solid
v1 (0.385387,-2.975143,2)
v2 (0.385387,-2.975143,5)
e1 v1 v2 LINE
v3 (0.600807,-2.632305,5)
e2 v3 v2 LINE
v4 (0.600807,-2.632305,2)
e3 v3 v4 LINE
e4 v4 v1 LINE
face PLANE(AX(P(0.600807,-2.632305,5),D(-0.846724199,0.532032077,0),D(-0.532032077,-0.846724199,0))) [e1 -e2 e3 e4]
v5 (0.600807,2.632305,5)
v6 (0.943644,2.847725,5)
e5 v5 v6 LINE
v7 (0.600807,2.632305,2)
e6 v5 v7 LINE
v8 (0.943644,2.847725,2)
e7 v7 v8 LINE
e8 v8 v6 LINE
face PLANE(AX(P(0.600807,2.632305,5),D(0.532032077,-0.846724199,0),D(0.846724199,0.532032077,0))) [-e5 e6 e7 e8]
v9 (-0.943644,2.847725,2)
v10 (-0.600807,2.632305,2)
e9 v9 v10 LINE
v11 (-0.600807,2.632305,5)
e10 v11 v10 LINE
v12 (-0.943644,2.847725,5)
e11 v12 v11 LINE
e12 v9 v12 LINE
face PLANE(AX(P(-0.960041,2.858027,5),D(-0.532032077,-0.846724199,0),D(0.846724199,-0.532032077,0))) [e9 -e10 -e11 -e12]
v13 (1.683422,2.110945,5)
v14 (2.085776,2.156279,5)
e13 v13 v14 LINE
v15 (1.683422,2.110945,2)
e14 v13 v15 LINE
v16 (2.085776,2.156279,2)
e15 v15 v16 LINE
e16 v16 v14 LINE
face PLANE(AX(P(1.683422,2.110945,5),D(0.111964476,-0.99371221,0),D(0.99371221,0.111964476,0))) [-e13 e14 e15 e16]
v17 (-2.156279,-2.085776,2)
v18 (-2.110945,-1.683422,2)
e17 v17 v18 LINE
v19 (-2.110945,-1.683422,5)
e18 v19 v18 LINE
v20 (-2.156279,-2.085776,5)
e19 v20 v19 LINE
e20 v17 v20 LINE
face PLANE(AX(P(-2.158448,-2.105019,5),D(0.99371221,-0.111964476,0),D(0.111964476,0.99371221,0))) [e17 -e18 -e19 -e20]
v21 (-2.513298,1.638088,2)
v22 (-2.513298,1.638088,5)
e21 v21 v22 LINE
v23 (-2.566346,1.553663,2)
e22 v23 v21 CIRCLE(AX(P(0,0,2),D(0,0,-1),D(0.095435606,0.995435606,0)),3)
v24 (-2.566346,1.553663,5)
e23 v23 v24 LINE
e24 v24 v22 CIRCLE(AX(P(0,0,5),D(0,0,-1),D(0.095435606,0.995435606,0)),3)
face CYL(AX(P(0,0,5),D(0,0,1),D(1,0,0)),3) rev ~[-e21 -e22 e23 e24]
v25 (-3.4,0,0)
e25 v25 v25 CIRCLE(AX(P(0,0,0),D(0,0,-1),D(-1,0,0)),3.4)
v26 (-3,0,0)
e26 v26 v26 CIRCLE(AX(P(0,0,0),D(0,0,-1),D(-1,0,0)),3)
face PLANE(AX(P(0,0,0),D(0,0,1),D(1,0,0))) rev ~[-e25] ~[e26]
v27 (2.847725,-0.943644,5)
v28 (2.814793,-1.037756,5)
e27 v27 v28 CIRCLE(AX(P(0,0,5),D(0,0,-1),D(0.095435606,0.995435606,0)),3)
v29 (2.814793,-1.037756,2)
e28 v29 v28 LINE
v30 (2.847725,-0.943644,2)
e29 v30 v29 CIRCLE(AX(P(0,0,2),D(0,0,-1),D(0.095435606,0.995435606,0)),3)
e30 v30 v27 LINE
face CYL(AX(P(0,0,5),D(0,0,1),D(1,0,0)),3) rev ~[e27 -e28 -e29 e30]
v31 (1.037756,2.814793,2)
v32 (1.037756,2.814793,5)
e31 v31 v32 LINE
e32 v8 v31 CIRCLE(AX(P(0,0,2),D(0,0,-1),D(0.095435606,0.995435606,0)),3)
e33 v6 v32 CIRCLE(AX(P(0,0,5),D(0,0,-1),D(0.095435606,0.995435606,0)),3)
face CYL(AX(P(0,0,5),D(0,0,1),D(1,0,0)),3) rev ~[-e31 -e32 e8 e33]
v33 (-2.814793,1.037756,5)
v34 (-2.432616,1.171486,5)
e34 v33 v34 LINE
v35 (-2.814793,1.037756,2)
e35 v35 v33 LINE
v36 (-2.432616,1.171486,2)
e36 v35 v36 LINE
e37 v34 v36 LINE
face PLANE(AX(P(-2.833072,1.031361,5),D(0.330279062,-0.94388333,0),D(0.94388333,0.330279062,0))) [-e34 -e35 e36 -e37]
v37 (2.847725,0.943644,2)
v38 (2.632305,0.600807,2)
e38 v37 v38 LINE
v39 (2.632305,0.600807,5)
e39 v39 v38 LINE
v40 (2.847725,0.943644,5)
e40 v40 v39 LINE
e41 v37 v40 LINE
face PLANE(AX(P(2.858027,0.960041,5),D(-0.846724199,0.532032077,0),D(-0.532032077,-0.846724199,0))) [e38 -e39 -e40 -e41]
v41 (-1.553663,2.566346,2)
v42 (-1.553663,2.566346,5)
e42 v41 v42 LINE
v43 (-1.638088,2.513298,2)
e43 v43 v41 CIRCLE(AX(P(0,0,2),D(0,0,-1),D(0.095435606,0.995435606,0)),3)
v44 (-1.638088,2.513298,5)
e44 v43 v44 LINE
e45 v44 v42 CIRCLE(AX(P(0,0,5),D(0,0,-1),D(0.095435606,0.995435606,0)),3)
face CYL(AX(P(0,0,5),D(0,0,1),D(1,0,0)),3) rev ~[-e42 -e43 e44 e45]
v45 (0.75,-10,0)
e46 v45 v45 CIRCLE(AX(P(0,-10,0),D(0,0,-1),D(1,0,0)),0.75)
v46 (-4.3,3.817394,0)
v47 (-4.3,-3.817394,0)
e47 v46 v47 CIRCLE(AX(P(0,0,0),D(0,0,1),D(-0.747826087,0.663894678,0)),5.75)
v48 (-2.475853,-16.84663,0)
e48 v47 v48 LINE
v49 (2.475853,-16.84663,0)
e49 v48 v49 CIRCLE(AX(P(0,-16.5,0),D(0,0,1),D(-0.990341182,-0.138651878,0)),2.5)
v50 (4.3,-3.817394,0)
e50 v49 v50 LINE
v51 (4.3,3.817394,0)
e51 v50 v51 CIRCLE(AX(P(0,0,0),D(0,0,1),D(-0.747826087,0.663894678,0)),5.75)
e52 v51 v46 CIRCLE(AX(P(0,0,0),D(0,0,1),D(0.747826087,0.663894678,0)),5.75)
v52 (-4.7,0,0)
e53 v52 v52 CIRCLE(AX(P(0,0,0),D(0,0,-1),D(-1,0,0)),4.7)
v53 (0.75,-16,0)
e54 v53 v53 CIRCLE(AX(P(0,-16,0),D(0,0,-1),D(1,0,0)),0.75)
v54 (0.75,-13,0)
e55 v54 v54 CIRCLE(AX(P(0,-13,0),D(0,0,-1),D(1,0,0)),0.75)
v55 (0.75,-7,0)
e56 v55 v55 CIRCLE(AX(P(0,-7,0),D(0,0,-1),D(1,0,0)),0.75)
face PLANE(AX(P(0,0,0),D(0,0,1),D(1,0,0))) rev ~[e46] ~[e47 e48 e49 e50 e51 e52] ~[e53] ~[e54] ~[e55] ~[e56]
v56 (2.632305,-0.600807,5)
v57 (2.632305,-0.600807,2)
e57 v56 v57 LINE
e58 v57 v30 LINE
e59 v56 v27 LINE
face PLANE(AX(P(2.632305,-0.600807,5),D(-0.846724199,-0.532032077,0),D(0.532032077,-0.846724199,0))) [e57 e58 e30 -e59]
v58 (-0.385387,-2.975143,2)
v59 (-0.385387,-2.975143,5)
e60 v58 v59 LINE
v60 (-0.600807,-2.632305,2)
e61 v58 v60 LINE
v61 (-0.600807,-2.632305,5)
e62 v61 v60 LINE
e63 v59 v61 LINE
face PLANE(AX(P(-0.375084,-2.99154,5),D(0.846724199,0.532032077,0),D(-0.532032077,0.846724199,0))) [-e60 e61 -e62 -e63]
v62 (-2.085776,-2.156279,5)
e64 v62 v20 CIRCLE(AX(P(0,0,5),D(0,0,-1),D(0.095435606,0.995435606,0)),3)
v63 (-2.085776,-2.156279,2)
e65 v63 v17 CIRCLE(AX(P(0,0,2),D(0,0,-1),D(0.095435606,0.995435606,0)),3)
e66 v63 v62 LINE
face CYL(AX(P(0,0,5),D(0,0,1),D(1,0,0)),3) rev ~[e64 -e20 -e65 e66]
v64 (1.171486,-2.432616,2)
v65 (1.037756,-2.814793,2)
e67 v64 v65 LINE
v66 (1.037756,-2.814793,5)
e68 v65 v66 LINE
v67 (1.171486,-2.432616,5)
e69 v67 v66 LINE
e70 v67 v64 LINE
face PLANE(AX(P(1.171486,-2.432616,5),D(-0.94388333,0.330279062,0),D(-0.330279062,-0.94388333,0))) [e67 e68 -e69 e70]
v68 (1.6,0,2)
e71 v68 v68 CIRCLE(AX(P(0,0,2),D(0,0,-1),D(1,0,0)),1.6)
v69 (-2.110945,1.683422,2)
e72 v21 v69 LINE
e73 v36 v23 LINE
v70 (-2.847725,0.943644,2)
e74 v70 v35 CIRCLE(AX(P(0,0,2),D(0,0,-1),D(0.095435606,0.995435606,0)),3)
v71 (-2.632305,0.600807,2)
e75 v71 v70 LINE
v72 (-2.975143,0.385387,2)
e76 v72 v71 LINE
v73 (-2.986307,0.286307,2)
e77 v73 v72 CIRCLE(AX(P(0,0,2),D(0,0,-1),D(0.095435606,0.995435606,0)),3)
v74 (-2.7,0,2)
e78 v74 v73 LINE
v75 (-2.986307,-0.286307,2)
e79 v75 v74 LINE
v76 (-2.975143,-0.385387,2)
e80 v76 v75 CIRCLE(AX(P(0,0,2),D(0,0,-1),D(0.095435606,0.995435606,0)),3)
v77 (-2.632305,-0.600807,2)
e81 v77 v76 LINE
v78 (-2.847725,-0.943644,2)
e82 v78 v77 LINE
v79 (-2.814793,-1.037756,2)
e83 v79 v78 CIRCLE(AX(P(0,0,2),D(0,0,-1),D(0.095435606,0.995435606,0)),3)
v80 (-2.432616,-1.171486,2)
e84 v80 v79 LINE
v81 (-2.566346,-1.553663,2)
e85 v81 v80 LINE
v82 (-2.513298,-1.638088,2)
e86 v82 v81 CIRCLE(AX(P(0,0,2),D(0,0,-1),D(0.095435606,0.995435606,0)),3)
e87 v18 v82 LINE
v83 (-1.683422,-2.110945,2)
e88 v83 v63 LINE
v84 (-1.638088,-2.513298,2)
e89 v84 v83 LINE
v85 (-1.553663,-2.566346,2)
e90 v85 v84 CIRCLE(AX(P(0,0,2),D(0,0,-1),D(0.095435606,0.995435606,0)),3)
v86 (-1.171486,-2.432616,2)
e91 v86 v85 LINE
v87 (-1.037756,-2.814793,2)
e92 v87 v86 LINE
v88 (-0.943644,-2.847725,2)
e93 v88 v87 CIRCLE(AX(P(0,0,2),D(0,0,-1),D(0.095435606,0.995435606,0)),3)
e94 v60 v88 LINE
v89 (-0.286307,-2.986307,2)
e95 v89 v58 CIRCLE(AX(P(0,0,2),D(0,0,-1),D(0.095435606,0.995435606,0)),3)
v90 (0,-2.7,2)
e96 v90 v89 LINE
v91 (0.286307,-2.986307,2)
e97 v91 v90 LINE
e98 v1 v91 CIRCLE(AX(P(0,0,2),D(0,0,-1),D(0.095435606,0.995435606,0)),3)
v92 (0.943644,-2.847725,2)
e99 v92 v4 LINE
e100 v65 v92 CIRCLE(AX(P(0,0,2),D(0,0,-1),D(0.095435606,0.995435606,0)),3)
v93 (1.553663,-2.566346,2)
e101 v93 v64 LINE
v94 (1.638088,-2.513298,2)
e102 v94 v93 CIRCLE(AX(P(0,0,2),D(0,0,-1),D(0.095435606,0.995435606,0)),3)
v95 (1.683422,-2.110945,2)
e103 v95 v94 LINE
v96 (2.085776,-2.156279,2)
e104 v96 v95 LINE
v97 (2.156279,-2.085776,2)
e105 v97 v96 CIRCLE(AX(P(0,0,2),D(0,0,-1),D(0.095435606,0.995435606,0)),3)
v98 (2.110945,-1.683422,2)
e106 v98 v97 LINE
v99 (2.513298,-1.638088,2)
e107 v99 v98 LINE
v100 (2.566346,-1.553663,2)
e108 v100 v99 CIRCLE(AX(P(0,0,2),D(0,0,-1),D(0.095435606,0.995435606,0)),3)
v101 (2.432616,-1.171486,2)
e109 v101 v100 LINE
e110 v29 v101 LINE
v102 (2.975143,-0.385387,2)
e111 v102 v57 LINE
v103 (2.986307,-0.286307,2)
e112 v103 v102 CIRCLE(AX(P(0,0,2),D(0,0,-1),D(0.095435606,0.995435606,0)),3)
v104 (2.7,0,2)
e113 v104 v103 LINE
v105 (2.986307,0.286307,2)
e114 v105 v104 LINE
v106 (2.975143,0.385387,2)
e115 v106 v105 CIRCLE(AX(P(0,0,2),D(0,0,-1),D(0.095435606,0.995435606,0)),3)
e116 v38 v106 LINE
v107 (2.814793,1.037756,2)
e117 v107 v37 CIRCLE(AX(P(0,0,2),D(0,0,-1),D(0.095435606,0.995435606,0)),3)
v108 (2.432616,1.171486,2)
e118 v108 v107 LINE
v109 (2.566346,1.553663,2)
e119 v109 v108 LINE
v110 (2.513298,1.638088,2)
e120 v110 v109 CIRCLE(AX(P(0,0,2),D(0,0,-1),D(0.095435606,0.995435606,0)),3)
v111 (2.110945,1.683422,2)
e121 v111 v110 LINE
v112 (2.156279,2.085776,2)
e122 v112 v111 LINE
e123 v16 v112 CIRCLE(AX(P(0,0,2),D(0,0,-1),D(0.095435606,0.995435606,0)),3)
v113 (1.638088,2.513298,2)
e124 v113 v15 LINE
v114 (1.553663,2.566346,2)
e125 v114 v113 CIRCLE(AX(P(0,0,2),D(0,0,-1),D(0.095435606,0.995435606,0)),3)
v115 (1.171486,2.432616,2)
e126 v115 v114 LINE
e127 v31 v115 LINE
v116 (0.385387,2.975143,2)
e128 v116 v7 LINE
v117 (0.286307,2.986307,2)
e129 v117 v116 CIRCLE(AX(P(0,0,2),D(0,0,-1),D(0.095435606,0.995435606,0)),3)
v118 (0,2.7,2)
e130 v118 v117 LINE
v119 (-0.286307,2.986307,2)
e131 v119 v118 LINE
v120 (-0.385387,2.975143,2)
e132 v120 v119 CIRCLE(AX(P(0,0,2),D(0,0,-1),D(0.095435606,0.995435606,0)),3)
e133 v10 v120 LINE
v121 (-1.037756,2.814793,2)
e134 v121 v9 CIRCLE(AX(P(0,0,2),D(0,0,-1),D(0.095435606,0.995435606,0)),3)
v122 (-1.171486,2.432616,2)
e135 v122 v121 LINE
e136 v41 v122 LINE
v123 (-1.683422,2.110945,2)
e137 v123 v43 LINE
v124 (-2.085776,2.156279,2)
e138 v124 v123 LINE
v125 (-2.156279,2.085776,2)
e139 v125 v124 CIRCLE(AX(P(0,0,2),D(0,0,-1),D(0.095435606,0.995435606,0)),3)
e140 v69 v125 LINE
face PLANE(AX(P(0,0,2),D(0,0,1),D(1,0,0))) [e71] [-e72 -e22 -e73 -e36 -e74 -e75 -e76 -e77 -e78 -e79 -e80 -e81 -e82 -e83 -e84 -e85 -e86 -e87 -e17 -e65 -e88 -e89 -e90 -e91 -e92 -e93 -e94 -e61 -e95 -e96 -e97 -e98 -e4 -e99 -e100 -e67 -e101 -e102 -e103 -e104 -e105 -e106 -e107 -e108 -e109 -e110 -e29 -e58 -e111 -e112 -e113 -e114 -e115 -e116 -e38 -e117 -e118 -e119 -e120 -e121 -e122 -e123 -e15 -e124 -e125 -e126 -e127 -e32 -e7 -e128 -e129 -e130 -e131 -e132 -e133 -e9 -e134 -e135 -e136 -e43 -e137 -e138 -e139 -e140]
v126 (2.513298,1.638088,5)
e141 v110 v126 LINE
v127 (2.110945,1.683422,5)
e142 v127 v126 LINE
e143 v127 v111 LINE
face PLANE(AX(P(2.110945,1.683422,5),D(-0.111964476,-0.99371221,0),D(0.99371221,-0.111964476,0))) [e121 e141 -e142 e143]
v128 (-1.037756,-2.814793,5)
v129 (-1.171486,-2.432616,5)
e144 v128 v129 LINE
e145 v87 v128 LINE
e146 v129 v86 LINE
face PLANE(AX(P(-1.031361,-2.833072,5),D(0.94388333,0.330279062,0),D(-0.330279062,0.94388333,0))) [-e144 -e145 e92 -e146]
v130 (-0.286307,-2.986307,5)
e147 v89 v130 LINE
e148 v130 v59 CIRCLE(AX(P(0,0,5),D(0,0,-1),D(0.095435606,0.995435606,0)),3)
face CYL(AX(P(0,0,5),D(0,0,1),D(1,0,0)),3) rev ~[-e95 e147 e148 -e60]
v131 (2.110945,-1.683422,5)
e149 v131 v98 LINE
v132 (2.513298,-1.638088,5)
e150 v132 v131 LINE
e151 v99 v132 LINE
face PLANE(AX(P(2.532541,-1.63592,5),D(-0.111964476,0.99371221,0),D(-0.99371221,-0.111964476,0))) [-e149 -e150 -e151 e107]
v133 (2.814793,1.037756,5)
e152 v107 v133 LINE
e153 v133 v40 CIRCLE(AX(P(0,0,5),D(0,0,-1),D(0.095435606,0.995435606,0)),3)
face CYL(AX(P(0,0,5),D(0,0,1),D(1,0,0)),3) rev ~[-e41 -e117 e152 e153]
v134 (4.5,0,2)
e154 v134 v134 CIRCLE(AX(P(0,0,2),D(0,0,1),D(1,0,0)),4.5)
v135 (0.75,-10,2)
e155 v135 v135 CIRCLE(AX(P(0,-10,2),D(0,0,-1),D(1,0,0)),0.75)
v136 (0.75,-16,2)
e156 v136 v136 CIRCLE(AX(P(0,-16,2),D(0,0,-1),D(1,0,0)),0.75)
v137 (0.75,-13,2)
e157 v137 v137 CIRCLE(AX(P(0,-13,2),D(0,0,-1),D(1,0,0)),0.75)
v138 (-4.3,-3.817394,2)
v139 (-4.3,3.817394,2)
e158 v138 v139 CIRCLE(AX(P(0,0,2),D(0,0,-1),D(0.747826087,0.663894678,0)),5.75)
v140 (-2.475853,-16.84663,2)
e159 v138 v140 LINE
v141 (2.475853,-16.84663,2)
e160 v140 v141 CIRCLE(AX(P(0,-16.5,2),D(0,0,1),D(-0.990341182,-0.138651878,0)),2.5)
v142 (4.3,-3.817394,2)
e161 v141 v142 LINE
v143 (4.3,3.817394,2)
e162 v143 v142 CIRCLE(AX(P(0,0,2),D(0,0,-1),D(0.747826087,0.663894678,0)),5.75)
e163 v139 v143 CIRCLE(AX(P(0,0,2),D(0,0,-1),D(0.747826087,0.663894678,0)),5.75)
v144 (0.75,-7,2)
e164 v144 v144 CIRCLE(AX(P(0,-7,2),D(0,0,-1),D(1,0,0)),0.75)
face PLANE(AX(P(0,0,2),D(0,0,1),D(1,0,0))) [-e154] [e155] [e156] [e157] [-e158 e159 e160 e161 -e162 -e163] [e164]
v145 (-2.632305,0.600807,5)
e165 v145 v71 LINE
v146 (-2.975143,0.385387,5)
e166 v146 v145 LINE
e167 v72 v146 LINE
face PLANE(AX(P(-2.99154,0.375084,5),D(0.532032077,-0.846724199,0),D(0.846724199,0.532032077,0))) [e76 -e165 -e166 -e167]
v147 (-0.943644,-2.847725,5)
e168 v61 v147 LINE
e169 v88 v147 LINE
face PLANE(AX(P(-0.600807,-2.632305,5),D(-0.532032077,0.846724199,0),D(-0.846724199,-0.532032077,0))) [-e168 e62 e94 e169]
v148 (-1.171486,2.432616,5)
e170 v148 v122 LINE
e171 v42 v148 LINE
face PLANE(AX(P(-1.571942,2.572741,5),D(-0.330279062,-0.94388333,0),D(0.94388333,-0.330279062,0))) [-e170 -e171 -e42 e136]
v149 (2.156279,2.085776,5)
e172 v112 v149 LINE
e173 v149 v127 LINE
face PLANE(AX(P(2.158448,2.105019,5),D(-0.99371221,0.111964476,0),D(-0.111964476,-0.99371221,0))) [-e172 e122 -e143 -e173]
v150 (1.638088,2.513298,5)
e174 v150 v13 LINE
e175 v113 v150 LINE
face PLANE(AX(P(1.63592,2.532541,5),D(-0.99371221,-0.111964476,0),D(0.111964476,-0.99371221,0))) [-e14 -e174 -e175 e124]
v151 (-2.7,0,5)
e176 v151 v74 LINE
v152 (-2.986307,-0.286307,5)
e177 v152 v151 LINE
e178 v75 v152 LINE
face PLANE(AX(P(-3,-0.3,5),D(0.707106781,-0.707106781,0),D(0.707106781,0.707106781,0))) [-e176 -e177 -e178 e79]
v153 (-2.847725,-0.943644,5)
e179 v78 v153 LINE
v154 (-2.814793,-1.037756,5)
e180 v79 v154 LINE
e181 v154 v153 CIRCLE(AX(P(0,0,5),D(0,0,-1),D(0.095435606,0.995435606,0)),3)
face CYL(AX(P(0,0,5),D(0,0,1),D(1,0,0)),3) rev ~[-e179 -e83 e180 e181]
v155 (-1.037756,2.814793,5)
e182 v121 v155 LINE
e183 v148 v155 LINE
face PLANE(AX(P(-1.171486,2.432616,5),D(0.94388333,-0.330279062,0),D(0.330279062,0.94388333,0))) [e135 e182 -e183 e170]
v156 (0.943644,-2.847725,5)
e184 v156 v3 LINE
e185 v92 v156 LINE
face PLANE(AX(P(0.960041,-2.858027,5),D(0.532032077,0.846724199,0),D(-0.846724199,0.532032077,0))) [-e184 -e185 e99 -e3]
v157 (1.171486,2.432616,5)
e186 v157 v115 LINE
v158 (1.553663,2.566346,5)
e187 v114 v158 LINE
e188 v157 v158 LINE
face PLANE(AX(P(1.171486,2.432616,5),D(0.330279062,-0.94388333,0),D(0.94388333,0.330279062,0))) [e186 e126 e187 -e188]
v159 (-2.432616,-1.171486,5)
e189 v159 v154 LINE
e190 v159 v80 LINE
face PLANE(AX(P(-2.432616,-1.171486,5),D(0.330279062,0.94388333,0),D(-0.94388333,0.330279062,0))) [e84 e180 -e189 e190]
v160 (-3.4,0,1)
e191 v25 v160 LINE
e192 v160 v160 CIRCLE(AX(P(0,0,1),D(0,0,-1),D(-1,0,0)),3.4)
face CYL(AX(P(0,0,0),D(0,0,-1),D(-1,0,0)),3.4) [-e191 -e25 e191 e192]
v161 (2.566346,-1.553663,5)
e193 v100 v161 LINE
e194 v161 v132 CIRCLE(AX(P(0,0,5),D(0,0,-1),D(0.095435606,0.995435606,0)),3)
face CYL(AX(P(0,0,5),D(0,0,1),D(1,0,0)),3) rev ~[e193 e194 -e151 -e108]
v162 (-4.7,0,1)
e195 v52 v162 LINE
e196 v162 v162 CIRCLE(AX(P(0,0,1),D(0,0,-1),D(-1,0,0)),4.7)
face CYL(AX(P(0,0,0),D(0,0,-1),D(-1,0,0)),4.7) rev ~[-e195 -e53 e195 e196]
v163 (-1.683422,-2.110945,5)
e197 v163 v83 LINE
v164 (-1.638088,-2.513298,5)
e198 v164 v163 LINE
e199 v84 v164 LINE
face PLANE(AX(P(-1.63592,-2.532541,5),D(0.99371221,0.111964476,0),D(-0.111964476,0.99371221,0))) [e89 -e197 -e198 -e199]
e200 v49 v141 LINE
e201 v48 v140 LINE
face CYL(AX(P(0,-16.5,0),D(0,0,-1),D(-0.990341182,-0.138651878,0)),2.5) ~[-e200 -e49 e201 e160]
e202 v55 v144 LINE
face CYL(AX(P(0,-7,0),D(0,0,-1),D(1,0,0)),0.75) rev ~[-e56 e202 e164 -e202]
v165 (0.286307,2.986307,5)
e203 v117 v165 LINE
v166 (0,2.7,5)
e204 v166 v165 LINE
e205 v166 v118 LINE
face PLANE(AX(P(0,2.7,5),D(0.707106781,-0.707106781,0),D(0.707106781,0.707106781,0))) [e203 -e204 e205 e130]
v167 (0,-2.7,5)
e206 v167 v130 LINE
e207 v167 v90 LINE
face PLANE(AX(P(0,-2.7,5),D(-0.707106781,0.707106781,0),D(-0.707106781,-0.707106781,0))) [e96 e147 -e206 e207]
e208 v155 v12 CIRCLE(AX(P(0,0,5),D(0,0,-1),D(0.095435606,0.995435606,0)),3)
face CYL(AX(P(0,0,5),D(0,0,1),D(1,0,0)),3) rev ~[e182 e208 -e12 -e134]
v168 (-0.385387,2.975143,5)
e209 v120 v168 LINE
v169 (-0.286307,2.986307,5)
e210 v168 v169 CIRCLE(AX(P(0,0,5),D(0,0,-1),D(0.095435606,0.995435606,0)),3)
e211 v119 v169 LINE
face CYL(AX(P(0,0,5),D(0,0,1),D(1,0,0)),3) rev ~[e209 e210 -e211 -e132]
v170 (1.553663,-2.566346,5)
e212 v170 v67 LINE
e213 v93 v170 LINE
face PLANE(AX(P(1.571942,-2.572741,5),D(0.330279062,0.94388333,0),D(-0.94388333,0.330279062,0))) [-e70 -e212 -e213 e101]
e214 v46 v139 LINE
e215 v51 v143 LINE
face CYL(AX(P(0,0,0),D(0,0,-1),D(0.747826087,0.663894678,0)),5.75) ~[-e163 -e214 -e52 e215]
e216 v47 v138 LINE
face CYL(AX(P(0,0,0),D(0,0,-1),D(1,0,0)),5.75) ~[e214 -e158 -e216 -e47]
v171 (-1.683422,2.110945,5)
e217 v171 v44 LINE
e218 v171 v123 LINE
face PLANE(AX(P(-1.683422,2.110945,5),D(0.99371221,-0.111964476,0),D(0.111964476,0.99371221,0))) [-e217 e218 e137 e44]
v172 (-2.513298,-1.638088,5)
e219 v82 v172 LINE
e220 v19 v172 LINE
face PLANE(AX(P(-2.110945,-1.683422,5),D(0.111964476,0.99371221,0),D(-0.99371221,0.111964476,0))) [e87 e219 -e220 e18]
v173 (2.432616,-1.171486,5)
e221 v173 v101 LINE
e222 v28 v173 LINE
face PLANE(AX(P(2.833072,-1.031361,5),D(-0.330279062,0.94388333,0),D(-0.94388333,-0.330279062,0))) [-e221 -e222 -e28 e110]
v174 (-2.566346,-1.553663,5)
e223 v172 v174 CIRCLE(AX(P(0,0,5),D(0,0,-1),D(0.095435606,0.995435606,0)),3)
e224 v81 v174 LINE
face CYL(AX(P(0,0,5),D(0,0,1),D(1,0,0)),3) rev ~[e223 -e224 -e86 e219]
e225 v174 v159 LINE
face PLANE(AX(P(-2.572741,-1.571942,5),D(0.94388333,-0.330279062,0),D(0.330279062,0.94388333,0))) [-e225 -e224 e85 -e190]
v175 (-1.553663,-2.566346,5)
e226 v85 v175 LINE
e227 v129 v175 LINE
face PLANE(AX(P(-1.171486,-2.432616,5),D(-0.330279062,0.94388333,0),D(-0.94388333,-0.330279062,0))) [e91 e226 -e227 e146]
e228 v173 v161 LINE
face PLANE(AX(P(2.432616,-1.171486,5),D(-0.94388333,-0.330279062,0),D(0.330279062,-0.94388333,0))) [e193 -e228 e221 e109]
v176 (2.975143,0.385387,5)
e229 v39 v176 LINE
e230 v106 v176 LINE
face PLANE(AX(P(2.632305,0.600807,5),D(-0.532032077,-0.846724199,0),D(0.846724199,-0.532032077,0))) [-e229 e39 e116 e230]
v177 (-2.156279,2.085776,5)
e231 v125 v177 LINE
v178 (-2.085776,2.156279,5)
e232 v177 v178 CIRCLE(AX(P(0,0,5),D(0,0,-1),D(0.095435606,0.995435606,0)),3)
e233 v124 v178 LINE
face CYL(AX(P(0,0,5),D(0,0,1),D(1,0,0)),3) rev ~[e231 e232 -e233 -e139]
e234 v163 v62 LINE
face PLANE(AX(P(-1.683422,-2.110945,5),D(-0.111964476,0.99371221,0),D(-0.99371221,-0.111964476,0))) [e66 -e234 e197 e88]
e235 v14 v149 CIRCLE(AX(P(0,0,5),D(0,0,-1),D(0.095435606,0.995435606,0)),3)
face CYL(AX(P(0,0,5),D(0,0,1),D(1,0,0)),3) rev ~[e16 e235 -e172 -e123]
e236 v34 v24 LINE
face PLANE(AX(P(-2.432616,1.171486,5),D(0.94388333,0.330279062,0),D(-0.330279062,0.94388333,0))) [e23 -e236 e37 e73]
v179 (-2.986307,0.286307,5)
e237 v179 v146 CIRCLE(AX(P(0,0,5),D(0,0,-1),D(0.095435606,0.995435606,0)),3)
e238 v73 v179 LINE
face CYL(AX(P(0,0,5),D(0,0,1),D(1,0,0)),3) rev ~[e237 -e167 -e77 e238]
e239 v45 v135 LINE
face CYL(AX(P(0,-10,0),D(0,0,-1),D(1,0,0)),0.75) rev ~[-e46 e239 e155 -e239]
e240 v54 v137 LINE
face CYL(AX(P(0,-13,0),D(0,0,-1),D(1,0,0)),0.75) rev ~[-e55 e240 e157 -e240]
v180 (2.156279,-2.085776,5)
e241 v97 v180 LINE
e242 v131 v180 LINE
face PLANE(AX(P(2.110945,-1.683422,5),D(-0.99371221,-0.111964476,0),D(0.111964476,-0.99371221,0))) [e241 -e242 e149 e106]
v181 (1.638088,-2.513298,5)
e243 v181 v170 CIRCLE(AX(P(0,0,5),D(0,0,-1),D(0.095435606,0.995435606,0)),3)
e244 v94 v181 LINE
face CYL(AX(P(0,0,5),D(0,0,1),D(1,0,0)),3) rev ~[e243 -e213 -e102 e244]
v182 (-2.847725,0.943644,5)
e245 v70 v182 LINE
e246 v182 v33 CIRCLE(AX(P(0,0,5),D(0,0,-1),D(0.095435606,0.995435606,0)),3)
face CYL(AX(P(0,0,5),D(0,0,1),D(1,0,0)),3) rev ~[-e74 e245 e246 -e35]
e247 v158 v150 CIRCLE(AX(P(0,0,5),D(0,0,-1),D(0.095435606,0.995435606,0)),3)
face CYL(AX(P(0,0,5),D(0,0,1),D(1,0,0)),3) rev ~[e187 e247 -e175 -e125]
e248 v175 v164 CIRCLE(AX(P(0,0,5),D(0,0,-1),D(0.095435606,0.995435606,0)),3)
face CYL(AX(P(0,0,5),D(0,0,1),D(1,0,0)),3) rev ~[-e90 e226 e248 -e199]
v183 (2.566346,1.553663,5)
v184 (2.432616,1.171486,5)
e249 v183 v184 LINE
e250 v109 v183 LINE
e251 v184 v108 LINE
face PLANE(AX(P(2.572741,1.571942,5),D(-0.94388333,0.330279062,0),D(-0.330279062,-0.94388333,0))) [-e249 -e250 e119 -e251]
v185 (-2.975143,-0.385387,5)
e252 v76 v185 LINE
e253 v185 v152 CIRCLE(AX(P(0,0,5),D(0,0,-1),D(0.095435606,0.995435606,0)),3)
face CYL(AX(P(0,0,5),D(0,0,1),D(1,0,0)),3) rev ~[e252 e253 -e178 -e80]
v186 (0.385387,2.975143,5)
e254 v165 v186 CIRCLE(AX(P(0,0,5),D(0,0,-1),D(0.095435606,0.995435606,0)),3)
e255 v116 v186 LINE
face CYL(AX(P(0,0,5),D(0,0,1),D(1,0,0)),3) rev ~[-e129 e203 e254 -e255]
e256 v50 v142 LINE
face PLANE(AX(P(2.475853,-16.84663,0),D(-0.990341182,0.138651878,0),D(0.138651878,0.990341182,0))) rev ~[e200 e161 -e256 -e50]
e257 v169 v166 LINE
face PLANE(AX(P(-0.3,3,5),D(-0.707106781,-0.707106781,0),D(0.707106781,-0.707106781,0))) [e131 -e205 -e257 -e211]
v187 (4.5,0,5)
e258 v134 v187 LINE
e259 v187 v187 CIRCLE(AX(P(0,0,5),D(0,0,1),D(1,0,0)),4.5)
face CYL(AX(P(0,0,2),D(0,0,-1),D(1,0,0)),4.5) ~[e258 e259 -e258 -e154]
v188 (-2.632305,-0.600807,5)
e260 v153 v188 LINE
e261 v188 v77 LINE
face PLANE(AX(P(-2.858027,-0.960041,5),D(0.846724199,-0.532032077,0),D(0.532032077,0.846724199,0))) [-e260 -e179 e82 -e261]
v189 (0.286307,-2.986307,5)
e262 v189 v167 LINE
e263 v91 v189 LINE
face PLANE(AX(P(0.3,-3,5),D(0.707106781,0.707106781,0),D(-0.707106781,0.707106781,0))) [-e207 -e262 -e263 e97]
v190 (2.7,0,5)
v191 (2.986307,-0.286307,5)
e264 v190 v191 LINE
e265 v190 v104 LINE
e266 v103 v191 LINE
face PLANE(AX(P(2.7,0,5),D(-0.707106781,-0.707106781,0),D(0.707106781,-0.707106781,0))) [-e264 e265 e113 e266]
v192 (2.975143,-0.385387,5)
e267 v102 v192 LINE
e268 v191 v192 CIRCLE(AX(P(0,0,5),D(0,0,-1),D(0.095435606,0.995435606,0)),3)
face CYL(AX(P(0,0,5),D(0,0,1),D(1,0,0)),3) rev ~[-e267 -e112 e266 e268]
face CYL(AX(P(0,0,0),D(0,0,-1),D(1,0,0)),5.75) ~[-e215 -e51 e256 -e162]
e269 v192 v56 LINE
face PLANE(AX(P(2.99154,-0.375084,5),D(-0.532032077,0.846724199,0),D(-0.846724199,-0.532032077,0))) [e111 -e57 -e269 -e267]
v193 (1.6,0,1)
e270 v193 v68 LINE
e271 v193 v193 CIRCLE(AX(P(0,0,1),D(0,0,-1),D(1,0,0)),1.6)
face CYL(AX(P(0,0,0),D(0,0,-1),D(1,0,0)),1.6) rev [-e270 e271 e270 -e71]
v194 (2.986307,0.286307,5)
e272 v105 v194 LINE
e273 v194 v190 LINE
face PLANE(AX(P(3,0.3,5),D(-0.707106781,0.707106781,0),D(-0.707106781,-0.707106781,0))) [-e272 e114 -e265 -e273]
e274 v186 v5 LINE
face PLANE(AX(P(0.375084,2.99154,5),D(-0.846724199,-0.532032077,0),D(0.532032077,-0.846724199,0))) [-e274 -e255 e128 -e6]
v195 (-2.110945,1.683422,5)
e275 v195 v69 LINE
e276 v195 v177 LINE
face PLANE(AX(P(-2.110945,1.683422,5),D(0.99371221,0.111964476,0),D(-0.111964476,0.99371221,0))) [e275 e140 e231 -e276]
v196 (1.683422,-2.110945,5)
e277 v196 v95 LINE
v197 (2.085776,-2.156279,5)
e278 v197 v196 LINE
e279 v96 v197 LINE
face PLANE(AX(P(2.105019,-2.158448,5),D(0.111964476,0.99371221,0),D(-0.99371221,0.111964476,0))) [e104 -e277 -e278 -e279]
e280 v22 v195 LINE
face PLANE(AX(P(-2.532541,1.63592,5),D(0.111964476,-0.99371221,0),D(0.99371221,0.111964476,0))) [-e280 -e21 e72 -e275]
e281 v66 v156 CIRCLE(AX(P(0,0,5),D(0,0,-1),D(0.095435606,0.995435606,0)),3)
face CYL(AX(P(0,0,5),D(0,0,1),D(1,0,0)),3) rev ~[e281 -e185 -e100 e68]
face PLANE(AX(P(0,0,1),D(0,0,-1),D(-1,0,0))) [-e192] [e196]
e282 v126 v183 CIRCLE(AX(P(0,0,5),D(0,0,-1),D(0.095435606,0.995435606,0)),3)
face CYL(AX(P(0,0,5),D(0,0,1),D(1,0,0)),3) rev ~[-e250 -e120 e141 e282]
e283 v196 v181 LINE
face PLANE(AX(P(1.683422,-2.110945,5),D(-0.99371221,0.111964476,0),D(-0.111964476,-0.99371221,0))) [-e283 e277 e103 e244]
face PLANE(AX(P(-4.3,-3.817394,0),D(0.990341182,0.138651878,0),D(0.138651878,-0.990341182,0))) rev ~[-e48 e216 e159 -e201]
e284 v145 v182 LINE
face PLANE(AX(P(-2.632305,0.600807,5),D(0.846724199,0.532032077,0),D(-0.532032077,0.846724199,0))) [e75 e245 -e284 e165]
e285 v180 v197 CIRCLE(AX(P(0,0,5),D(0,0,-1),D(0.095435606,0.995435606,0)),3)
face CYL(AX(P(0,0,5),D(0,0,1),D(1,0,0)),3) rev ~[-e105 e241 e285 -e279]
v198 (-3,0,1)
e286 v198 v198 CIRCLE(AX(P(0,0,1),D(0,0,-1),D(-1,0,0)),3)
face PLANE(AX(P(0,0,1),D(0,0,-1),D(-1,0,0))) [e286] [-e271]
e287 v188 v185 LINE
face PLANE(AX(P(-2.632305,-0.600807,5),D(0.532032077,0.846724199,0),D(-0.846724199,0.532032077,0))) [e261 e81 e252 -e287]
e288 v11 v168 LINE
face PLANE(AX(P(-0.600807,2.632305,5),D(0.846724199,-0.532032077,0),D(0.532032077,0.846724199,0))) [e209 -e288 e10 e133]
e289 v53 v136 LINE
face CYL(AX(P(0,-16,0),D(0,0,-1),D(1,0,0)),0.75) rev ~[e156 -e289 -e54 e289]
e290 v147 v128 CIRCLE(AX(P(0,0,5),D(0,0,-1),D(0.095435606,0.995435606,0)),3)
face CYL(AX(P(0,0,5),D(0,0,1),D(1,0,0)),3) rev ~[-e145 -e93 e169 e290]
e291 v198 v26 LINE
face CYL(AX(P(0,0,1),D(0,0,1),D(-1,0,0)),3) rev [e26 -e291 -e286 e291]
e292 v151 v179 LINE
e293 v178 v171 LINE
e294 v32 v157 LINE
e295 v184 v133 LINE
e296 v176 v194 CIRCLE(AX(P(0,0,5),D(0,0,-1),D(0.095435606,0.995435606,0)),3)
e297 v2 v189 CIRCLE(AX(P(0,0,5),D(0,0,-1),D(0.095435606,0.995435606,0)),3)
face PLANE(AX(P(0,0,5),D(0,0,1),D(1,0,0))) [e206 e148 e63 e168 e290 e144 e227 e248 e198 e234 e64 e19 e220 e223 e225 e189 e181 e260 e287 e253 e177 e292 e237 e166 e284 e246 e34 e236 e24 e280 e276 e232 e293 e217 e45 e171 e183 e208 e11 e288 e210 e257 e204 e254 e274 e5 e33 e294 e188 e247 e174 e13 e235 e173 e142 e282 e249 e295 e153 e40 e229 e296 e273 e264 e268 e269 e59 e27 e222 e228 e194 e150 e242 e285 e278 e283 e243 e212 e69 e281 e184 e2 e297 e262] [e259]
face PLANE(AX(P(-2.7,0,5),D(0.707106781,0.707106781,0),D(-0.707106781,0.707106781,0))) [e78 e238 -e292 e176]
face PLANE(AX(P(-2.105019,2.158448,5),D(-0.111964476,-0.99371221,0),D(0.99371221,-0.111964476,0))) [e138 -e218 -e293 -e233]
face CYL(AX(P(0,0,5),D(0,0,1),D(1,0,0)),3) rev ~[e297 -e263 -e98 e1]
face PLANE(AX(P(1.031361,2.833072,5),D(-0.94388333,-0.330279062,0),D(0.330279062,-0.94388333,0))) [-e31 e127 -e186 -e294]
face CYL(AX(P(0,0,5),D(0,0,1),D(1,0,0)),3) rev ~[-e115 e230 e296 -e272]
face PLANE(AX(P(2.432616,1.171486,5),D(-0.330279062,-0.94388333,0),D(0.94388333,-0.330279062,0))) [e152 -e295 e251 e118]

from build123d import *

# Parameters (mm, degrees)
ESQUISSE1_R                  = 5.75
ESQUISSE1_R_2                = 1.6
BOSS_EXTRU_1_DEPTH           = 5
ESQUISSE2_R                  = 3
ENL_V_MAT_EXTRU_1_DEPTH      = 3
ENL_V_START                  = -3
ESQUISSE3_R                  = 5.75
ESQUISSE3_R_2                = 4.5
ENL_V_MAT_EXTRU_2_DEPTH      = 3
BOSS_EXTRU_2_DEPTH           = 2
R_P_TITION_CIRCULAIRE1_COUNT = 2
ESQUISSE5_R                  = 0.75
ENL_V_MAT_EXTRU_3_DEPTH      = 3
R_P_TITION_CIRCULAIRE2_COUNT = 2
BOSS_EXTRU_3_DEPTH           = 3
R_P_TITION_CIRCULAIRE3_COUNT = 28
ENL_V_START_2                = -1
ESQUISSE7_R                  = 3
ESQUISSE7_R_2                = 1.6
ENL_V_MAT_EXTRU_4_DEPTH      = 1
ESQUISSE8_R                  = 4.7
ESQUISSE8_R_2                = 3.4
ENL_V_MAT_EXTRU_5_DEPTH      = 1
SKETCH1_R                    = 0.75
CUT_EXTRUDE1_DEPTH           = 10


with BuildPart() as part:
    # Esquisse1 → Boss.-Extru.1 (new body)
    with BuildSketch(Plane.XY):
        Circle(ESQUISSE1_R)
        Circle(ESQUISSE1_R_2, mode=Mode.SUBTRACT)
    extrude(amount=BOSS_EXTRU_1_DEPTH)

    # Esquisse2 → Enlèv. mat.-Extru.1 (cut)
    with BuildSketch(Plane.XY.offset(5)):
        Circle(ESQUISSE2_R)
    extrude(amount=-ENL_V_MAT_EXTRU_1_DEPTH, mode=Mode.SUBTRACT)

    # Esquisse3 → Enlèv. mat.-Extru.2 (cut)
    with BuildSketch(Plane.XY.offset(5).offset(ENL_V_START)):
        Circle(ESQUISSE3_R)
        Circle(ESQUISSE3_R_2, mode=Mode.SUBTRACT)
    extrude(amount=ENL_V_MAT_EXTRU_2_DEPTH, mode=Mode.SUBTRACT)

    # Esquisse4 → Boss.-Extru.2 (add)
    with BuildSketch(Plane(origin=(0, 0, 0), x_dir=(-1, 0, 0), z_dir=(0, 0, -1))):
        with BuildLine():
            Line((-4.3, 3.817394399), (-2.475852955, 16.846629695))
            ThreePointArc((-2.475852955, 16.846629695), (0, 19), (2.475852955, 16.846629695))
            Line((2.475852955, 16.846629695), (4.3, 3.817394399))
            ThreePointArc((4.3, 3.817394399), (0, 5.75), (-4.3, 3.817394399))
        make_face()
    boss_extru_2 = extrude(amount=-BOSS_EXTRU_2_DEPTH)

    # Répétition circulaire1: Boss.-Extru.2 ×2 about axis
    r_p_tition_circulaire1_axis = Axis((0, 0, 0), (0, 0, 1))
    for i in range(1, R_P_TITION_CIRCULAIRE1_COUNT):
        add(boss_extru_2.rotate(r_p_tition_circulaire1_axis, i * 360 / R_P_TITION_CIRCULAIRE1_COUNT))

    # Esquisse5 → Enlèv. mat.-Extru.3 (cut)
    with BuildSketch(Plane(origin=(0, 0, 0), x_dir=(-1, 0, 0), z_dir=(0, 0, -1))):
        with Locations((0, 7)):
            Circle(ESQUISSE5_R)
        with Locations((0, 10)):
            Circle(ESQUISSE5_R)
        with Locations((0, 13)):
            Circle(ESQUISSE5_R)
        with Locations((0, 16)):
            Circle(ESQUISSE5_R)
    enl_v_mat_extru_3 = extrude(amount=-ENL_V_MAT_EXTRU_3_DEPTH, mode=Mode.SUBTRACT)

    # Répétition circulaire2: Enlèv. mat.-Extru.3 ×2 about axis
    r_p_tition_circulaire2_axis = Axis((0, 0, 0), (0, 0, 1))
    for i in range(1, R_P_TITION_CIRCULAIRE2_COUNT):
        add(enl_v_mat_extru_3.rotate(r_p_tition_circulaire2_axis, i * 360 / R_P_TITION_CIRCULAIRE2_COUNT), mode=Mode.SUBTRACT)

    # Esquisse6 → Boss.-Extru.3 (add)
    with BuildSketch(Plane.XY.offset(5)):
        Polygon((-0.3, 3), (0, 2.7), (0.3, 3), align=None)
    boss_extru_3 = extrude(amount=-BOSS_EXTRU_3_DEPTH)

    # Répétition circulaire3: Boss.-Extru.3 ×28 about axis
    r_p_tition_circulaire3_axis = Axis((0, 0, 0), (0, 0, 1))
    for i in range(1, R_P_TITION_CIRCULAIRE3_COUNT):
        add(boss_extru_3.rotate(r_p_tition_circulaire3_axis, i * 360 / R_P_TITION_CIRCULAIRE3_COUNT))

    # Esquisse7 → Enlèv. mat.-Extru.4 (cut)
    with BuildSketch(Plane(origin=(0, 0, 0), x_dir=(-1, 0, 0), z_dir=(0, 0, -1)).offset(ENL_V_START_2)):
        Circle(ESQUISSE7_R)
        Circle(ESQUISSE7_R_2, mode=Mode.SUBTRACT)
    extrude(amount=ENL_V_MAT_EXTRU_4_DEPTH, mode=Mode.SUBTRACT)

    # Esquisse8 → Enlèv. mat.-Extru.5 (cut)
    with BuildSketch(Plane(origin=(0, 0, 0), x_dir=(-1, 0, 0), z_dir=(0, 0, -1))):
        Circle(ESQUISSE8_R)
        Circle(ESQUISSE8_R_2, mode=Mode.SUBTRACT)
    extrude(amount=-ENL_V_MAT_EXTRU_5_DEPTH, mode=Mode.SUBTRACT)

    # Sketch1 → Cut-Extrude1 (cut)
    with BuildSketch(Plane(origin=(0, 0, 0), x_dir=(-1, 0, 0), z_dir=(0, 0, -1))):
        with BuildLine():
            Line((-2.475852955, 16.846629695), (-4.3, 3.817394399))
            ThreePointArc((-4.3, 3.817394399), (0, 5.75), (4.3, 3.817394399))
            Line((4.3, 3.817394399), (2.475852955, 16.846629695))
            ThreePointArc((2.475852955, 16.846629695), (0, 19), (-2.475852955, 16.846629695))
        make_face()
        with Locations((0, 7)):
            Circle(SKETCH1_R, mode=Mode.SUBTRACT)
        with Locations((0, 10)):
            Circle(SKETCH1_R, mode=Mode.SUBTRACT)
        with Locations((0, 13)):
            Circle(SKETCH1_R, mode=Mode.SUBTRACT)
        with Locations((0, 16)):
            Circle(SKETCH1_R, mode=Mode.SUBTRACT)
    extrude(amount=-CUT_EXTRUDE1_DEPTH, mode=Mode.SUBTRACT)


solid = part.part
